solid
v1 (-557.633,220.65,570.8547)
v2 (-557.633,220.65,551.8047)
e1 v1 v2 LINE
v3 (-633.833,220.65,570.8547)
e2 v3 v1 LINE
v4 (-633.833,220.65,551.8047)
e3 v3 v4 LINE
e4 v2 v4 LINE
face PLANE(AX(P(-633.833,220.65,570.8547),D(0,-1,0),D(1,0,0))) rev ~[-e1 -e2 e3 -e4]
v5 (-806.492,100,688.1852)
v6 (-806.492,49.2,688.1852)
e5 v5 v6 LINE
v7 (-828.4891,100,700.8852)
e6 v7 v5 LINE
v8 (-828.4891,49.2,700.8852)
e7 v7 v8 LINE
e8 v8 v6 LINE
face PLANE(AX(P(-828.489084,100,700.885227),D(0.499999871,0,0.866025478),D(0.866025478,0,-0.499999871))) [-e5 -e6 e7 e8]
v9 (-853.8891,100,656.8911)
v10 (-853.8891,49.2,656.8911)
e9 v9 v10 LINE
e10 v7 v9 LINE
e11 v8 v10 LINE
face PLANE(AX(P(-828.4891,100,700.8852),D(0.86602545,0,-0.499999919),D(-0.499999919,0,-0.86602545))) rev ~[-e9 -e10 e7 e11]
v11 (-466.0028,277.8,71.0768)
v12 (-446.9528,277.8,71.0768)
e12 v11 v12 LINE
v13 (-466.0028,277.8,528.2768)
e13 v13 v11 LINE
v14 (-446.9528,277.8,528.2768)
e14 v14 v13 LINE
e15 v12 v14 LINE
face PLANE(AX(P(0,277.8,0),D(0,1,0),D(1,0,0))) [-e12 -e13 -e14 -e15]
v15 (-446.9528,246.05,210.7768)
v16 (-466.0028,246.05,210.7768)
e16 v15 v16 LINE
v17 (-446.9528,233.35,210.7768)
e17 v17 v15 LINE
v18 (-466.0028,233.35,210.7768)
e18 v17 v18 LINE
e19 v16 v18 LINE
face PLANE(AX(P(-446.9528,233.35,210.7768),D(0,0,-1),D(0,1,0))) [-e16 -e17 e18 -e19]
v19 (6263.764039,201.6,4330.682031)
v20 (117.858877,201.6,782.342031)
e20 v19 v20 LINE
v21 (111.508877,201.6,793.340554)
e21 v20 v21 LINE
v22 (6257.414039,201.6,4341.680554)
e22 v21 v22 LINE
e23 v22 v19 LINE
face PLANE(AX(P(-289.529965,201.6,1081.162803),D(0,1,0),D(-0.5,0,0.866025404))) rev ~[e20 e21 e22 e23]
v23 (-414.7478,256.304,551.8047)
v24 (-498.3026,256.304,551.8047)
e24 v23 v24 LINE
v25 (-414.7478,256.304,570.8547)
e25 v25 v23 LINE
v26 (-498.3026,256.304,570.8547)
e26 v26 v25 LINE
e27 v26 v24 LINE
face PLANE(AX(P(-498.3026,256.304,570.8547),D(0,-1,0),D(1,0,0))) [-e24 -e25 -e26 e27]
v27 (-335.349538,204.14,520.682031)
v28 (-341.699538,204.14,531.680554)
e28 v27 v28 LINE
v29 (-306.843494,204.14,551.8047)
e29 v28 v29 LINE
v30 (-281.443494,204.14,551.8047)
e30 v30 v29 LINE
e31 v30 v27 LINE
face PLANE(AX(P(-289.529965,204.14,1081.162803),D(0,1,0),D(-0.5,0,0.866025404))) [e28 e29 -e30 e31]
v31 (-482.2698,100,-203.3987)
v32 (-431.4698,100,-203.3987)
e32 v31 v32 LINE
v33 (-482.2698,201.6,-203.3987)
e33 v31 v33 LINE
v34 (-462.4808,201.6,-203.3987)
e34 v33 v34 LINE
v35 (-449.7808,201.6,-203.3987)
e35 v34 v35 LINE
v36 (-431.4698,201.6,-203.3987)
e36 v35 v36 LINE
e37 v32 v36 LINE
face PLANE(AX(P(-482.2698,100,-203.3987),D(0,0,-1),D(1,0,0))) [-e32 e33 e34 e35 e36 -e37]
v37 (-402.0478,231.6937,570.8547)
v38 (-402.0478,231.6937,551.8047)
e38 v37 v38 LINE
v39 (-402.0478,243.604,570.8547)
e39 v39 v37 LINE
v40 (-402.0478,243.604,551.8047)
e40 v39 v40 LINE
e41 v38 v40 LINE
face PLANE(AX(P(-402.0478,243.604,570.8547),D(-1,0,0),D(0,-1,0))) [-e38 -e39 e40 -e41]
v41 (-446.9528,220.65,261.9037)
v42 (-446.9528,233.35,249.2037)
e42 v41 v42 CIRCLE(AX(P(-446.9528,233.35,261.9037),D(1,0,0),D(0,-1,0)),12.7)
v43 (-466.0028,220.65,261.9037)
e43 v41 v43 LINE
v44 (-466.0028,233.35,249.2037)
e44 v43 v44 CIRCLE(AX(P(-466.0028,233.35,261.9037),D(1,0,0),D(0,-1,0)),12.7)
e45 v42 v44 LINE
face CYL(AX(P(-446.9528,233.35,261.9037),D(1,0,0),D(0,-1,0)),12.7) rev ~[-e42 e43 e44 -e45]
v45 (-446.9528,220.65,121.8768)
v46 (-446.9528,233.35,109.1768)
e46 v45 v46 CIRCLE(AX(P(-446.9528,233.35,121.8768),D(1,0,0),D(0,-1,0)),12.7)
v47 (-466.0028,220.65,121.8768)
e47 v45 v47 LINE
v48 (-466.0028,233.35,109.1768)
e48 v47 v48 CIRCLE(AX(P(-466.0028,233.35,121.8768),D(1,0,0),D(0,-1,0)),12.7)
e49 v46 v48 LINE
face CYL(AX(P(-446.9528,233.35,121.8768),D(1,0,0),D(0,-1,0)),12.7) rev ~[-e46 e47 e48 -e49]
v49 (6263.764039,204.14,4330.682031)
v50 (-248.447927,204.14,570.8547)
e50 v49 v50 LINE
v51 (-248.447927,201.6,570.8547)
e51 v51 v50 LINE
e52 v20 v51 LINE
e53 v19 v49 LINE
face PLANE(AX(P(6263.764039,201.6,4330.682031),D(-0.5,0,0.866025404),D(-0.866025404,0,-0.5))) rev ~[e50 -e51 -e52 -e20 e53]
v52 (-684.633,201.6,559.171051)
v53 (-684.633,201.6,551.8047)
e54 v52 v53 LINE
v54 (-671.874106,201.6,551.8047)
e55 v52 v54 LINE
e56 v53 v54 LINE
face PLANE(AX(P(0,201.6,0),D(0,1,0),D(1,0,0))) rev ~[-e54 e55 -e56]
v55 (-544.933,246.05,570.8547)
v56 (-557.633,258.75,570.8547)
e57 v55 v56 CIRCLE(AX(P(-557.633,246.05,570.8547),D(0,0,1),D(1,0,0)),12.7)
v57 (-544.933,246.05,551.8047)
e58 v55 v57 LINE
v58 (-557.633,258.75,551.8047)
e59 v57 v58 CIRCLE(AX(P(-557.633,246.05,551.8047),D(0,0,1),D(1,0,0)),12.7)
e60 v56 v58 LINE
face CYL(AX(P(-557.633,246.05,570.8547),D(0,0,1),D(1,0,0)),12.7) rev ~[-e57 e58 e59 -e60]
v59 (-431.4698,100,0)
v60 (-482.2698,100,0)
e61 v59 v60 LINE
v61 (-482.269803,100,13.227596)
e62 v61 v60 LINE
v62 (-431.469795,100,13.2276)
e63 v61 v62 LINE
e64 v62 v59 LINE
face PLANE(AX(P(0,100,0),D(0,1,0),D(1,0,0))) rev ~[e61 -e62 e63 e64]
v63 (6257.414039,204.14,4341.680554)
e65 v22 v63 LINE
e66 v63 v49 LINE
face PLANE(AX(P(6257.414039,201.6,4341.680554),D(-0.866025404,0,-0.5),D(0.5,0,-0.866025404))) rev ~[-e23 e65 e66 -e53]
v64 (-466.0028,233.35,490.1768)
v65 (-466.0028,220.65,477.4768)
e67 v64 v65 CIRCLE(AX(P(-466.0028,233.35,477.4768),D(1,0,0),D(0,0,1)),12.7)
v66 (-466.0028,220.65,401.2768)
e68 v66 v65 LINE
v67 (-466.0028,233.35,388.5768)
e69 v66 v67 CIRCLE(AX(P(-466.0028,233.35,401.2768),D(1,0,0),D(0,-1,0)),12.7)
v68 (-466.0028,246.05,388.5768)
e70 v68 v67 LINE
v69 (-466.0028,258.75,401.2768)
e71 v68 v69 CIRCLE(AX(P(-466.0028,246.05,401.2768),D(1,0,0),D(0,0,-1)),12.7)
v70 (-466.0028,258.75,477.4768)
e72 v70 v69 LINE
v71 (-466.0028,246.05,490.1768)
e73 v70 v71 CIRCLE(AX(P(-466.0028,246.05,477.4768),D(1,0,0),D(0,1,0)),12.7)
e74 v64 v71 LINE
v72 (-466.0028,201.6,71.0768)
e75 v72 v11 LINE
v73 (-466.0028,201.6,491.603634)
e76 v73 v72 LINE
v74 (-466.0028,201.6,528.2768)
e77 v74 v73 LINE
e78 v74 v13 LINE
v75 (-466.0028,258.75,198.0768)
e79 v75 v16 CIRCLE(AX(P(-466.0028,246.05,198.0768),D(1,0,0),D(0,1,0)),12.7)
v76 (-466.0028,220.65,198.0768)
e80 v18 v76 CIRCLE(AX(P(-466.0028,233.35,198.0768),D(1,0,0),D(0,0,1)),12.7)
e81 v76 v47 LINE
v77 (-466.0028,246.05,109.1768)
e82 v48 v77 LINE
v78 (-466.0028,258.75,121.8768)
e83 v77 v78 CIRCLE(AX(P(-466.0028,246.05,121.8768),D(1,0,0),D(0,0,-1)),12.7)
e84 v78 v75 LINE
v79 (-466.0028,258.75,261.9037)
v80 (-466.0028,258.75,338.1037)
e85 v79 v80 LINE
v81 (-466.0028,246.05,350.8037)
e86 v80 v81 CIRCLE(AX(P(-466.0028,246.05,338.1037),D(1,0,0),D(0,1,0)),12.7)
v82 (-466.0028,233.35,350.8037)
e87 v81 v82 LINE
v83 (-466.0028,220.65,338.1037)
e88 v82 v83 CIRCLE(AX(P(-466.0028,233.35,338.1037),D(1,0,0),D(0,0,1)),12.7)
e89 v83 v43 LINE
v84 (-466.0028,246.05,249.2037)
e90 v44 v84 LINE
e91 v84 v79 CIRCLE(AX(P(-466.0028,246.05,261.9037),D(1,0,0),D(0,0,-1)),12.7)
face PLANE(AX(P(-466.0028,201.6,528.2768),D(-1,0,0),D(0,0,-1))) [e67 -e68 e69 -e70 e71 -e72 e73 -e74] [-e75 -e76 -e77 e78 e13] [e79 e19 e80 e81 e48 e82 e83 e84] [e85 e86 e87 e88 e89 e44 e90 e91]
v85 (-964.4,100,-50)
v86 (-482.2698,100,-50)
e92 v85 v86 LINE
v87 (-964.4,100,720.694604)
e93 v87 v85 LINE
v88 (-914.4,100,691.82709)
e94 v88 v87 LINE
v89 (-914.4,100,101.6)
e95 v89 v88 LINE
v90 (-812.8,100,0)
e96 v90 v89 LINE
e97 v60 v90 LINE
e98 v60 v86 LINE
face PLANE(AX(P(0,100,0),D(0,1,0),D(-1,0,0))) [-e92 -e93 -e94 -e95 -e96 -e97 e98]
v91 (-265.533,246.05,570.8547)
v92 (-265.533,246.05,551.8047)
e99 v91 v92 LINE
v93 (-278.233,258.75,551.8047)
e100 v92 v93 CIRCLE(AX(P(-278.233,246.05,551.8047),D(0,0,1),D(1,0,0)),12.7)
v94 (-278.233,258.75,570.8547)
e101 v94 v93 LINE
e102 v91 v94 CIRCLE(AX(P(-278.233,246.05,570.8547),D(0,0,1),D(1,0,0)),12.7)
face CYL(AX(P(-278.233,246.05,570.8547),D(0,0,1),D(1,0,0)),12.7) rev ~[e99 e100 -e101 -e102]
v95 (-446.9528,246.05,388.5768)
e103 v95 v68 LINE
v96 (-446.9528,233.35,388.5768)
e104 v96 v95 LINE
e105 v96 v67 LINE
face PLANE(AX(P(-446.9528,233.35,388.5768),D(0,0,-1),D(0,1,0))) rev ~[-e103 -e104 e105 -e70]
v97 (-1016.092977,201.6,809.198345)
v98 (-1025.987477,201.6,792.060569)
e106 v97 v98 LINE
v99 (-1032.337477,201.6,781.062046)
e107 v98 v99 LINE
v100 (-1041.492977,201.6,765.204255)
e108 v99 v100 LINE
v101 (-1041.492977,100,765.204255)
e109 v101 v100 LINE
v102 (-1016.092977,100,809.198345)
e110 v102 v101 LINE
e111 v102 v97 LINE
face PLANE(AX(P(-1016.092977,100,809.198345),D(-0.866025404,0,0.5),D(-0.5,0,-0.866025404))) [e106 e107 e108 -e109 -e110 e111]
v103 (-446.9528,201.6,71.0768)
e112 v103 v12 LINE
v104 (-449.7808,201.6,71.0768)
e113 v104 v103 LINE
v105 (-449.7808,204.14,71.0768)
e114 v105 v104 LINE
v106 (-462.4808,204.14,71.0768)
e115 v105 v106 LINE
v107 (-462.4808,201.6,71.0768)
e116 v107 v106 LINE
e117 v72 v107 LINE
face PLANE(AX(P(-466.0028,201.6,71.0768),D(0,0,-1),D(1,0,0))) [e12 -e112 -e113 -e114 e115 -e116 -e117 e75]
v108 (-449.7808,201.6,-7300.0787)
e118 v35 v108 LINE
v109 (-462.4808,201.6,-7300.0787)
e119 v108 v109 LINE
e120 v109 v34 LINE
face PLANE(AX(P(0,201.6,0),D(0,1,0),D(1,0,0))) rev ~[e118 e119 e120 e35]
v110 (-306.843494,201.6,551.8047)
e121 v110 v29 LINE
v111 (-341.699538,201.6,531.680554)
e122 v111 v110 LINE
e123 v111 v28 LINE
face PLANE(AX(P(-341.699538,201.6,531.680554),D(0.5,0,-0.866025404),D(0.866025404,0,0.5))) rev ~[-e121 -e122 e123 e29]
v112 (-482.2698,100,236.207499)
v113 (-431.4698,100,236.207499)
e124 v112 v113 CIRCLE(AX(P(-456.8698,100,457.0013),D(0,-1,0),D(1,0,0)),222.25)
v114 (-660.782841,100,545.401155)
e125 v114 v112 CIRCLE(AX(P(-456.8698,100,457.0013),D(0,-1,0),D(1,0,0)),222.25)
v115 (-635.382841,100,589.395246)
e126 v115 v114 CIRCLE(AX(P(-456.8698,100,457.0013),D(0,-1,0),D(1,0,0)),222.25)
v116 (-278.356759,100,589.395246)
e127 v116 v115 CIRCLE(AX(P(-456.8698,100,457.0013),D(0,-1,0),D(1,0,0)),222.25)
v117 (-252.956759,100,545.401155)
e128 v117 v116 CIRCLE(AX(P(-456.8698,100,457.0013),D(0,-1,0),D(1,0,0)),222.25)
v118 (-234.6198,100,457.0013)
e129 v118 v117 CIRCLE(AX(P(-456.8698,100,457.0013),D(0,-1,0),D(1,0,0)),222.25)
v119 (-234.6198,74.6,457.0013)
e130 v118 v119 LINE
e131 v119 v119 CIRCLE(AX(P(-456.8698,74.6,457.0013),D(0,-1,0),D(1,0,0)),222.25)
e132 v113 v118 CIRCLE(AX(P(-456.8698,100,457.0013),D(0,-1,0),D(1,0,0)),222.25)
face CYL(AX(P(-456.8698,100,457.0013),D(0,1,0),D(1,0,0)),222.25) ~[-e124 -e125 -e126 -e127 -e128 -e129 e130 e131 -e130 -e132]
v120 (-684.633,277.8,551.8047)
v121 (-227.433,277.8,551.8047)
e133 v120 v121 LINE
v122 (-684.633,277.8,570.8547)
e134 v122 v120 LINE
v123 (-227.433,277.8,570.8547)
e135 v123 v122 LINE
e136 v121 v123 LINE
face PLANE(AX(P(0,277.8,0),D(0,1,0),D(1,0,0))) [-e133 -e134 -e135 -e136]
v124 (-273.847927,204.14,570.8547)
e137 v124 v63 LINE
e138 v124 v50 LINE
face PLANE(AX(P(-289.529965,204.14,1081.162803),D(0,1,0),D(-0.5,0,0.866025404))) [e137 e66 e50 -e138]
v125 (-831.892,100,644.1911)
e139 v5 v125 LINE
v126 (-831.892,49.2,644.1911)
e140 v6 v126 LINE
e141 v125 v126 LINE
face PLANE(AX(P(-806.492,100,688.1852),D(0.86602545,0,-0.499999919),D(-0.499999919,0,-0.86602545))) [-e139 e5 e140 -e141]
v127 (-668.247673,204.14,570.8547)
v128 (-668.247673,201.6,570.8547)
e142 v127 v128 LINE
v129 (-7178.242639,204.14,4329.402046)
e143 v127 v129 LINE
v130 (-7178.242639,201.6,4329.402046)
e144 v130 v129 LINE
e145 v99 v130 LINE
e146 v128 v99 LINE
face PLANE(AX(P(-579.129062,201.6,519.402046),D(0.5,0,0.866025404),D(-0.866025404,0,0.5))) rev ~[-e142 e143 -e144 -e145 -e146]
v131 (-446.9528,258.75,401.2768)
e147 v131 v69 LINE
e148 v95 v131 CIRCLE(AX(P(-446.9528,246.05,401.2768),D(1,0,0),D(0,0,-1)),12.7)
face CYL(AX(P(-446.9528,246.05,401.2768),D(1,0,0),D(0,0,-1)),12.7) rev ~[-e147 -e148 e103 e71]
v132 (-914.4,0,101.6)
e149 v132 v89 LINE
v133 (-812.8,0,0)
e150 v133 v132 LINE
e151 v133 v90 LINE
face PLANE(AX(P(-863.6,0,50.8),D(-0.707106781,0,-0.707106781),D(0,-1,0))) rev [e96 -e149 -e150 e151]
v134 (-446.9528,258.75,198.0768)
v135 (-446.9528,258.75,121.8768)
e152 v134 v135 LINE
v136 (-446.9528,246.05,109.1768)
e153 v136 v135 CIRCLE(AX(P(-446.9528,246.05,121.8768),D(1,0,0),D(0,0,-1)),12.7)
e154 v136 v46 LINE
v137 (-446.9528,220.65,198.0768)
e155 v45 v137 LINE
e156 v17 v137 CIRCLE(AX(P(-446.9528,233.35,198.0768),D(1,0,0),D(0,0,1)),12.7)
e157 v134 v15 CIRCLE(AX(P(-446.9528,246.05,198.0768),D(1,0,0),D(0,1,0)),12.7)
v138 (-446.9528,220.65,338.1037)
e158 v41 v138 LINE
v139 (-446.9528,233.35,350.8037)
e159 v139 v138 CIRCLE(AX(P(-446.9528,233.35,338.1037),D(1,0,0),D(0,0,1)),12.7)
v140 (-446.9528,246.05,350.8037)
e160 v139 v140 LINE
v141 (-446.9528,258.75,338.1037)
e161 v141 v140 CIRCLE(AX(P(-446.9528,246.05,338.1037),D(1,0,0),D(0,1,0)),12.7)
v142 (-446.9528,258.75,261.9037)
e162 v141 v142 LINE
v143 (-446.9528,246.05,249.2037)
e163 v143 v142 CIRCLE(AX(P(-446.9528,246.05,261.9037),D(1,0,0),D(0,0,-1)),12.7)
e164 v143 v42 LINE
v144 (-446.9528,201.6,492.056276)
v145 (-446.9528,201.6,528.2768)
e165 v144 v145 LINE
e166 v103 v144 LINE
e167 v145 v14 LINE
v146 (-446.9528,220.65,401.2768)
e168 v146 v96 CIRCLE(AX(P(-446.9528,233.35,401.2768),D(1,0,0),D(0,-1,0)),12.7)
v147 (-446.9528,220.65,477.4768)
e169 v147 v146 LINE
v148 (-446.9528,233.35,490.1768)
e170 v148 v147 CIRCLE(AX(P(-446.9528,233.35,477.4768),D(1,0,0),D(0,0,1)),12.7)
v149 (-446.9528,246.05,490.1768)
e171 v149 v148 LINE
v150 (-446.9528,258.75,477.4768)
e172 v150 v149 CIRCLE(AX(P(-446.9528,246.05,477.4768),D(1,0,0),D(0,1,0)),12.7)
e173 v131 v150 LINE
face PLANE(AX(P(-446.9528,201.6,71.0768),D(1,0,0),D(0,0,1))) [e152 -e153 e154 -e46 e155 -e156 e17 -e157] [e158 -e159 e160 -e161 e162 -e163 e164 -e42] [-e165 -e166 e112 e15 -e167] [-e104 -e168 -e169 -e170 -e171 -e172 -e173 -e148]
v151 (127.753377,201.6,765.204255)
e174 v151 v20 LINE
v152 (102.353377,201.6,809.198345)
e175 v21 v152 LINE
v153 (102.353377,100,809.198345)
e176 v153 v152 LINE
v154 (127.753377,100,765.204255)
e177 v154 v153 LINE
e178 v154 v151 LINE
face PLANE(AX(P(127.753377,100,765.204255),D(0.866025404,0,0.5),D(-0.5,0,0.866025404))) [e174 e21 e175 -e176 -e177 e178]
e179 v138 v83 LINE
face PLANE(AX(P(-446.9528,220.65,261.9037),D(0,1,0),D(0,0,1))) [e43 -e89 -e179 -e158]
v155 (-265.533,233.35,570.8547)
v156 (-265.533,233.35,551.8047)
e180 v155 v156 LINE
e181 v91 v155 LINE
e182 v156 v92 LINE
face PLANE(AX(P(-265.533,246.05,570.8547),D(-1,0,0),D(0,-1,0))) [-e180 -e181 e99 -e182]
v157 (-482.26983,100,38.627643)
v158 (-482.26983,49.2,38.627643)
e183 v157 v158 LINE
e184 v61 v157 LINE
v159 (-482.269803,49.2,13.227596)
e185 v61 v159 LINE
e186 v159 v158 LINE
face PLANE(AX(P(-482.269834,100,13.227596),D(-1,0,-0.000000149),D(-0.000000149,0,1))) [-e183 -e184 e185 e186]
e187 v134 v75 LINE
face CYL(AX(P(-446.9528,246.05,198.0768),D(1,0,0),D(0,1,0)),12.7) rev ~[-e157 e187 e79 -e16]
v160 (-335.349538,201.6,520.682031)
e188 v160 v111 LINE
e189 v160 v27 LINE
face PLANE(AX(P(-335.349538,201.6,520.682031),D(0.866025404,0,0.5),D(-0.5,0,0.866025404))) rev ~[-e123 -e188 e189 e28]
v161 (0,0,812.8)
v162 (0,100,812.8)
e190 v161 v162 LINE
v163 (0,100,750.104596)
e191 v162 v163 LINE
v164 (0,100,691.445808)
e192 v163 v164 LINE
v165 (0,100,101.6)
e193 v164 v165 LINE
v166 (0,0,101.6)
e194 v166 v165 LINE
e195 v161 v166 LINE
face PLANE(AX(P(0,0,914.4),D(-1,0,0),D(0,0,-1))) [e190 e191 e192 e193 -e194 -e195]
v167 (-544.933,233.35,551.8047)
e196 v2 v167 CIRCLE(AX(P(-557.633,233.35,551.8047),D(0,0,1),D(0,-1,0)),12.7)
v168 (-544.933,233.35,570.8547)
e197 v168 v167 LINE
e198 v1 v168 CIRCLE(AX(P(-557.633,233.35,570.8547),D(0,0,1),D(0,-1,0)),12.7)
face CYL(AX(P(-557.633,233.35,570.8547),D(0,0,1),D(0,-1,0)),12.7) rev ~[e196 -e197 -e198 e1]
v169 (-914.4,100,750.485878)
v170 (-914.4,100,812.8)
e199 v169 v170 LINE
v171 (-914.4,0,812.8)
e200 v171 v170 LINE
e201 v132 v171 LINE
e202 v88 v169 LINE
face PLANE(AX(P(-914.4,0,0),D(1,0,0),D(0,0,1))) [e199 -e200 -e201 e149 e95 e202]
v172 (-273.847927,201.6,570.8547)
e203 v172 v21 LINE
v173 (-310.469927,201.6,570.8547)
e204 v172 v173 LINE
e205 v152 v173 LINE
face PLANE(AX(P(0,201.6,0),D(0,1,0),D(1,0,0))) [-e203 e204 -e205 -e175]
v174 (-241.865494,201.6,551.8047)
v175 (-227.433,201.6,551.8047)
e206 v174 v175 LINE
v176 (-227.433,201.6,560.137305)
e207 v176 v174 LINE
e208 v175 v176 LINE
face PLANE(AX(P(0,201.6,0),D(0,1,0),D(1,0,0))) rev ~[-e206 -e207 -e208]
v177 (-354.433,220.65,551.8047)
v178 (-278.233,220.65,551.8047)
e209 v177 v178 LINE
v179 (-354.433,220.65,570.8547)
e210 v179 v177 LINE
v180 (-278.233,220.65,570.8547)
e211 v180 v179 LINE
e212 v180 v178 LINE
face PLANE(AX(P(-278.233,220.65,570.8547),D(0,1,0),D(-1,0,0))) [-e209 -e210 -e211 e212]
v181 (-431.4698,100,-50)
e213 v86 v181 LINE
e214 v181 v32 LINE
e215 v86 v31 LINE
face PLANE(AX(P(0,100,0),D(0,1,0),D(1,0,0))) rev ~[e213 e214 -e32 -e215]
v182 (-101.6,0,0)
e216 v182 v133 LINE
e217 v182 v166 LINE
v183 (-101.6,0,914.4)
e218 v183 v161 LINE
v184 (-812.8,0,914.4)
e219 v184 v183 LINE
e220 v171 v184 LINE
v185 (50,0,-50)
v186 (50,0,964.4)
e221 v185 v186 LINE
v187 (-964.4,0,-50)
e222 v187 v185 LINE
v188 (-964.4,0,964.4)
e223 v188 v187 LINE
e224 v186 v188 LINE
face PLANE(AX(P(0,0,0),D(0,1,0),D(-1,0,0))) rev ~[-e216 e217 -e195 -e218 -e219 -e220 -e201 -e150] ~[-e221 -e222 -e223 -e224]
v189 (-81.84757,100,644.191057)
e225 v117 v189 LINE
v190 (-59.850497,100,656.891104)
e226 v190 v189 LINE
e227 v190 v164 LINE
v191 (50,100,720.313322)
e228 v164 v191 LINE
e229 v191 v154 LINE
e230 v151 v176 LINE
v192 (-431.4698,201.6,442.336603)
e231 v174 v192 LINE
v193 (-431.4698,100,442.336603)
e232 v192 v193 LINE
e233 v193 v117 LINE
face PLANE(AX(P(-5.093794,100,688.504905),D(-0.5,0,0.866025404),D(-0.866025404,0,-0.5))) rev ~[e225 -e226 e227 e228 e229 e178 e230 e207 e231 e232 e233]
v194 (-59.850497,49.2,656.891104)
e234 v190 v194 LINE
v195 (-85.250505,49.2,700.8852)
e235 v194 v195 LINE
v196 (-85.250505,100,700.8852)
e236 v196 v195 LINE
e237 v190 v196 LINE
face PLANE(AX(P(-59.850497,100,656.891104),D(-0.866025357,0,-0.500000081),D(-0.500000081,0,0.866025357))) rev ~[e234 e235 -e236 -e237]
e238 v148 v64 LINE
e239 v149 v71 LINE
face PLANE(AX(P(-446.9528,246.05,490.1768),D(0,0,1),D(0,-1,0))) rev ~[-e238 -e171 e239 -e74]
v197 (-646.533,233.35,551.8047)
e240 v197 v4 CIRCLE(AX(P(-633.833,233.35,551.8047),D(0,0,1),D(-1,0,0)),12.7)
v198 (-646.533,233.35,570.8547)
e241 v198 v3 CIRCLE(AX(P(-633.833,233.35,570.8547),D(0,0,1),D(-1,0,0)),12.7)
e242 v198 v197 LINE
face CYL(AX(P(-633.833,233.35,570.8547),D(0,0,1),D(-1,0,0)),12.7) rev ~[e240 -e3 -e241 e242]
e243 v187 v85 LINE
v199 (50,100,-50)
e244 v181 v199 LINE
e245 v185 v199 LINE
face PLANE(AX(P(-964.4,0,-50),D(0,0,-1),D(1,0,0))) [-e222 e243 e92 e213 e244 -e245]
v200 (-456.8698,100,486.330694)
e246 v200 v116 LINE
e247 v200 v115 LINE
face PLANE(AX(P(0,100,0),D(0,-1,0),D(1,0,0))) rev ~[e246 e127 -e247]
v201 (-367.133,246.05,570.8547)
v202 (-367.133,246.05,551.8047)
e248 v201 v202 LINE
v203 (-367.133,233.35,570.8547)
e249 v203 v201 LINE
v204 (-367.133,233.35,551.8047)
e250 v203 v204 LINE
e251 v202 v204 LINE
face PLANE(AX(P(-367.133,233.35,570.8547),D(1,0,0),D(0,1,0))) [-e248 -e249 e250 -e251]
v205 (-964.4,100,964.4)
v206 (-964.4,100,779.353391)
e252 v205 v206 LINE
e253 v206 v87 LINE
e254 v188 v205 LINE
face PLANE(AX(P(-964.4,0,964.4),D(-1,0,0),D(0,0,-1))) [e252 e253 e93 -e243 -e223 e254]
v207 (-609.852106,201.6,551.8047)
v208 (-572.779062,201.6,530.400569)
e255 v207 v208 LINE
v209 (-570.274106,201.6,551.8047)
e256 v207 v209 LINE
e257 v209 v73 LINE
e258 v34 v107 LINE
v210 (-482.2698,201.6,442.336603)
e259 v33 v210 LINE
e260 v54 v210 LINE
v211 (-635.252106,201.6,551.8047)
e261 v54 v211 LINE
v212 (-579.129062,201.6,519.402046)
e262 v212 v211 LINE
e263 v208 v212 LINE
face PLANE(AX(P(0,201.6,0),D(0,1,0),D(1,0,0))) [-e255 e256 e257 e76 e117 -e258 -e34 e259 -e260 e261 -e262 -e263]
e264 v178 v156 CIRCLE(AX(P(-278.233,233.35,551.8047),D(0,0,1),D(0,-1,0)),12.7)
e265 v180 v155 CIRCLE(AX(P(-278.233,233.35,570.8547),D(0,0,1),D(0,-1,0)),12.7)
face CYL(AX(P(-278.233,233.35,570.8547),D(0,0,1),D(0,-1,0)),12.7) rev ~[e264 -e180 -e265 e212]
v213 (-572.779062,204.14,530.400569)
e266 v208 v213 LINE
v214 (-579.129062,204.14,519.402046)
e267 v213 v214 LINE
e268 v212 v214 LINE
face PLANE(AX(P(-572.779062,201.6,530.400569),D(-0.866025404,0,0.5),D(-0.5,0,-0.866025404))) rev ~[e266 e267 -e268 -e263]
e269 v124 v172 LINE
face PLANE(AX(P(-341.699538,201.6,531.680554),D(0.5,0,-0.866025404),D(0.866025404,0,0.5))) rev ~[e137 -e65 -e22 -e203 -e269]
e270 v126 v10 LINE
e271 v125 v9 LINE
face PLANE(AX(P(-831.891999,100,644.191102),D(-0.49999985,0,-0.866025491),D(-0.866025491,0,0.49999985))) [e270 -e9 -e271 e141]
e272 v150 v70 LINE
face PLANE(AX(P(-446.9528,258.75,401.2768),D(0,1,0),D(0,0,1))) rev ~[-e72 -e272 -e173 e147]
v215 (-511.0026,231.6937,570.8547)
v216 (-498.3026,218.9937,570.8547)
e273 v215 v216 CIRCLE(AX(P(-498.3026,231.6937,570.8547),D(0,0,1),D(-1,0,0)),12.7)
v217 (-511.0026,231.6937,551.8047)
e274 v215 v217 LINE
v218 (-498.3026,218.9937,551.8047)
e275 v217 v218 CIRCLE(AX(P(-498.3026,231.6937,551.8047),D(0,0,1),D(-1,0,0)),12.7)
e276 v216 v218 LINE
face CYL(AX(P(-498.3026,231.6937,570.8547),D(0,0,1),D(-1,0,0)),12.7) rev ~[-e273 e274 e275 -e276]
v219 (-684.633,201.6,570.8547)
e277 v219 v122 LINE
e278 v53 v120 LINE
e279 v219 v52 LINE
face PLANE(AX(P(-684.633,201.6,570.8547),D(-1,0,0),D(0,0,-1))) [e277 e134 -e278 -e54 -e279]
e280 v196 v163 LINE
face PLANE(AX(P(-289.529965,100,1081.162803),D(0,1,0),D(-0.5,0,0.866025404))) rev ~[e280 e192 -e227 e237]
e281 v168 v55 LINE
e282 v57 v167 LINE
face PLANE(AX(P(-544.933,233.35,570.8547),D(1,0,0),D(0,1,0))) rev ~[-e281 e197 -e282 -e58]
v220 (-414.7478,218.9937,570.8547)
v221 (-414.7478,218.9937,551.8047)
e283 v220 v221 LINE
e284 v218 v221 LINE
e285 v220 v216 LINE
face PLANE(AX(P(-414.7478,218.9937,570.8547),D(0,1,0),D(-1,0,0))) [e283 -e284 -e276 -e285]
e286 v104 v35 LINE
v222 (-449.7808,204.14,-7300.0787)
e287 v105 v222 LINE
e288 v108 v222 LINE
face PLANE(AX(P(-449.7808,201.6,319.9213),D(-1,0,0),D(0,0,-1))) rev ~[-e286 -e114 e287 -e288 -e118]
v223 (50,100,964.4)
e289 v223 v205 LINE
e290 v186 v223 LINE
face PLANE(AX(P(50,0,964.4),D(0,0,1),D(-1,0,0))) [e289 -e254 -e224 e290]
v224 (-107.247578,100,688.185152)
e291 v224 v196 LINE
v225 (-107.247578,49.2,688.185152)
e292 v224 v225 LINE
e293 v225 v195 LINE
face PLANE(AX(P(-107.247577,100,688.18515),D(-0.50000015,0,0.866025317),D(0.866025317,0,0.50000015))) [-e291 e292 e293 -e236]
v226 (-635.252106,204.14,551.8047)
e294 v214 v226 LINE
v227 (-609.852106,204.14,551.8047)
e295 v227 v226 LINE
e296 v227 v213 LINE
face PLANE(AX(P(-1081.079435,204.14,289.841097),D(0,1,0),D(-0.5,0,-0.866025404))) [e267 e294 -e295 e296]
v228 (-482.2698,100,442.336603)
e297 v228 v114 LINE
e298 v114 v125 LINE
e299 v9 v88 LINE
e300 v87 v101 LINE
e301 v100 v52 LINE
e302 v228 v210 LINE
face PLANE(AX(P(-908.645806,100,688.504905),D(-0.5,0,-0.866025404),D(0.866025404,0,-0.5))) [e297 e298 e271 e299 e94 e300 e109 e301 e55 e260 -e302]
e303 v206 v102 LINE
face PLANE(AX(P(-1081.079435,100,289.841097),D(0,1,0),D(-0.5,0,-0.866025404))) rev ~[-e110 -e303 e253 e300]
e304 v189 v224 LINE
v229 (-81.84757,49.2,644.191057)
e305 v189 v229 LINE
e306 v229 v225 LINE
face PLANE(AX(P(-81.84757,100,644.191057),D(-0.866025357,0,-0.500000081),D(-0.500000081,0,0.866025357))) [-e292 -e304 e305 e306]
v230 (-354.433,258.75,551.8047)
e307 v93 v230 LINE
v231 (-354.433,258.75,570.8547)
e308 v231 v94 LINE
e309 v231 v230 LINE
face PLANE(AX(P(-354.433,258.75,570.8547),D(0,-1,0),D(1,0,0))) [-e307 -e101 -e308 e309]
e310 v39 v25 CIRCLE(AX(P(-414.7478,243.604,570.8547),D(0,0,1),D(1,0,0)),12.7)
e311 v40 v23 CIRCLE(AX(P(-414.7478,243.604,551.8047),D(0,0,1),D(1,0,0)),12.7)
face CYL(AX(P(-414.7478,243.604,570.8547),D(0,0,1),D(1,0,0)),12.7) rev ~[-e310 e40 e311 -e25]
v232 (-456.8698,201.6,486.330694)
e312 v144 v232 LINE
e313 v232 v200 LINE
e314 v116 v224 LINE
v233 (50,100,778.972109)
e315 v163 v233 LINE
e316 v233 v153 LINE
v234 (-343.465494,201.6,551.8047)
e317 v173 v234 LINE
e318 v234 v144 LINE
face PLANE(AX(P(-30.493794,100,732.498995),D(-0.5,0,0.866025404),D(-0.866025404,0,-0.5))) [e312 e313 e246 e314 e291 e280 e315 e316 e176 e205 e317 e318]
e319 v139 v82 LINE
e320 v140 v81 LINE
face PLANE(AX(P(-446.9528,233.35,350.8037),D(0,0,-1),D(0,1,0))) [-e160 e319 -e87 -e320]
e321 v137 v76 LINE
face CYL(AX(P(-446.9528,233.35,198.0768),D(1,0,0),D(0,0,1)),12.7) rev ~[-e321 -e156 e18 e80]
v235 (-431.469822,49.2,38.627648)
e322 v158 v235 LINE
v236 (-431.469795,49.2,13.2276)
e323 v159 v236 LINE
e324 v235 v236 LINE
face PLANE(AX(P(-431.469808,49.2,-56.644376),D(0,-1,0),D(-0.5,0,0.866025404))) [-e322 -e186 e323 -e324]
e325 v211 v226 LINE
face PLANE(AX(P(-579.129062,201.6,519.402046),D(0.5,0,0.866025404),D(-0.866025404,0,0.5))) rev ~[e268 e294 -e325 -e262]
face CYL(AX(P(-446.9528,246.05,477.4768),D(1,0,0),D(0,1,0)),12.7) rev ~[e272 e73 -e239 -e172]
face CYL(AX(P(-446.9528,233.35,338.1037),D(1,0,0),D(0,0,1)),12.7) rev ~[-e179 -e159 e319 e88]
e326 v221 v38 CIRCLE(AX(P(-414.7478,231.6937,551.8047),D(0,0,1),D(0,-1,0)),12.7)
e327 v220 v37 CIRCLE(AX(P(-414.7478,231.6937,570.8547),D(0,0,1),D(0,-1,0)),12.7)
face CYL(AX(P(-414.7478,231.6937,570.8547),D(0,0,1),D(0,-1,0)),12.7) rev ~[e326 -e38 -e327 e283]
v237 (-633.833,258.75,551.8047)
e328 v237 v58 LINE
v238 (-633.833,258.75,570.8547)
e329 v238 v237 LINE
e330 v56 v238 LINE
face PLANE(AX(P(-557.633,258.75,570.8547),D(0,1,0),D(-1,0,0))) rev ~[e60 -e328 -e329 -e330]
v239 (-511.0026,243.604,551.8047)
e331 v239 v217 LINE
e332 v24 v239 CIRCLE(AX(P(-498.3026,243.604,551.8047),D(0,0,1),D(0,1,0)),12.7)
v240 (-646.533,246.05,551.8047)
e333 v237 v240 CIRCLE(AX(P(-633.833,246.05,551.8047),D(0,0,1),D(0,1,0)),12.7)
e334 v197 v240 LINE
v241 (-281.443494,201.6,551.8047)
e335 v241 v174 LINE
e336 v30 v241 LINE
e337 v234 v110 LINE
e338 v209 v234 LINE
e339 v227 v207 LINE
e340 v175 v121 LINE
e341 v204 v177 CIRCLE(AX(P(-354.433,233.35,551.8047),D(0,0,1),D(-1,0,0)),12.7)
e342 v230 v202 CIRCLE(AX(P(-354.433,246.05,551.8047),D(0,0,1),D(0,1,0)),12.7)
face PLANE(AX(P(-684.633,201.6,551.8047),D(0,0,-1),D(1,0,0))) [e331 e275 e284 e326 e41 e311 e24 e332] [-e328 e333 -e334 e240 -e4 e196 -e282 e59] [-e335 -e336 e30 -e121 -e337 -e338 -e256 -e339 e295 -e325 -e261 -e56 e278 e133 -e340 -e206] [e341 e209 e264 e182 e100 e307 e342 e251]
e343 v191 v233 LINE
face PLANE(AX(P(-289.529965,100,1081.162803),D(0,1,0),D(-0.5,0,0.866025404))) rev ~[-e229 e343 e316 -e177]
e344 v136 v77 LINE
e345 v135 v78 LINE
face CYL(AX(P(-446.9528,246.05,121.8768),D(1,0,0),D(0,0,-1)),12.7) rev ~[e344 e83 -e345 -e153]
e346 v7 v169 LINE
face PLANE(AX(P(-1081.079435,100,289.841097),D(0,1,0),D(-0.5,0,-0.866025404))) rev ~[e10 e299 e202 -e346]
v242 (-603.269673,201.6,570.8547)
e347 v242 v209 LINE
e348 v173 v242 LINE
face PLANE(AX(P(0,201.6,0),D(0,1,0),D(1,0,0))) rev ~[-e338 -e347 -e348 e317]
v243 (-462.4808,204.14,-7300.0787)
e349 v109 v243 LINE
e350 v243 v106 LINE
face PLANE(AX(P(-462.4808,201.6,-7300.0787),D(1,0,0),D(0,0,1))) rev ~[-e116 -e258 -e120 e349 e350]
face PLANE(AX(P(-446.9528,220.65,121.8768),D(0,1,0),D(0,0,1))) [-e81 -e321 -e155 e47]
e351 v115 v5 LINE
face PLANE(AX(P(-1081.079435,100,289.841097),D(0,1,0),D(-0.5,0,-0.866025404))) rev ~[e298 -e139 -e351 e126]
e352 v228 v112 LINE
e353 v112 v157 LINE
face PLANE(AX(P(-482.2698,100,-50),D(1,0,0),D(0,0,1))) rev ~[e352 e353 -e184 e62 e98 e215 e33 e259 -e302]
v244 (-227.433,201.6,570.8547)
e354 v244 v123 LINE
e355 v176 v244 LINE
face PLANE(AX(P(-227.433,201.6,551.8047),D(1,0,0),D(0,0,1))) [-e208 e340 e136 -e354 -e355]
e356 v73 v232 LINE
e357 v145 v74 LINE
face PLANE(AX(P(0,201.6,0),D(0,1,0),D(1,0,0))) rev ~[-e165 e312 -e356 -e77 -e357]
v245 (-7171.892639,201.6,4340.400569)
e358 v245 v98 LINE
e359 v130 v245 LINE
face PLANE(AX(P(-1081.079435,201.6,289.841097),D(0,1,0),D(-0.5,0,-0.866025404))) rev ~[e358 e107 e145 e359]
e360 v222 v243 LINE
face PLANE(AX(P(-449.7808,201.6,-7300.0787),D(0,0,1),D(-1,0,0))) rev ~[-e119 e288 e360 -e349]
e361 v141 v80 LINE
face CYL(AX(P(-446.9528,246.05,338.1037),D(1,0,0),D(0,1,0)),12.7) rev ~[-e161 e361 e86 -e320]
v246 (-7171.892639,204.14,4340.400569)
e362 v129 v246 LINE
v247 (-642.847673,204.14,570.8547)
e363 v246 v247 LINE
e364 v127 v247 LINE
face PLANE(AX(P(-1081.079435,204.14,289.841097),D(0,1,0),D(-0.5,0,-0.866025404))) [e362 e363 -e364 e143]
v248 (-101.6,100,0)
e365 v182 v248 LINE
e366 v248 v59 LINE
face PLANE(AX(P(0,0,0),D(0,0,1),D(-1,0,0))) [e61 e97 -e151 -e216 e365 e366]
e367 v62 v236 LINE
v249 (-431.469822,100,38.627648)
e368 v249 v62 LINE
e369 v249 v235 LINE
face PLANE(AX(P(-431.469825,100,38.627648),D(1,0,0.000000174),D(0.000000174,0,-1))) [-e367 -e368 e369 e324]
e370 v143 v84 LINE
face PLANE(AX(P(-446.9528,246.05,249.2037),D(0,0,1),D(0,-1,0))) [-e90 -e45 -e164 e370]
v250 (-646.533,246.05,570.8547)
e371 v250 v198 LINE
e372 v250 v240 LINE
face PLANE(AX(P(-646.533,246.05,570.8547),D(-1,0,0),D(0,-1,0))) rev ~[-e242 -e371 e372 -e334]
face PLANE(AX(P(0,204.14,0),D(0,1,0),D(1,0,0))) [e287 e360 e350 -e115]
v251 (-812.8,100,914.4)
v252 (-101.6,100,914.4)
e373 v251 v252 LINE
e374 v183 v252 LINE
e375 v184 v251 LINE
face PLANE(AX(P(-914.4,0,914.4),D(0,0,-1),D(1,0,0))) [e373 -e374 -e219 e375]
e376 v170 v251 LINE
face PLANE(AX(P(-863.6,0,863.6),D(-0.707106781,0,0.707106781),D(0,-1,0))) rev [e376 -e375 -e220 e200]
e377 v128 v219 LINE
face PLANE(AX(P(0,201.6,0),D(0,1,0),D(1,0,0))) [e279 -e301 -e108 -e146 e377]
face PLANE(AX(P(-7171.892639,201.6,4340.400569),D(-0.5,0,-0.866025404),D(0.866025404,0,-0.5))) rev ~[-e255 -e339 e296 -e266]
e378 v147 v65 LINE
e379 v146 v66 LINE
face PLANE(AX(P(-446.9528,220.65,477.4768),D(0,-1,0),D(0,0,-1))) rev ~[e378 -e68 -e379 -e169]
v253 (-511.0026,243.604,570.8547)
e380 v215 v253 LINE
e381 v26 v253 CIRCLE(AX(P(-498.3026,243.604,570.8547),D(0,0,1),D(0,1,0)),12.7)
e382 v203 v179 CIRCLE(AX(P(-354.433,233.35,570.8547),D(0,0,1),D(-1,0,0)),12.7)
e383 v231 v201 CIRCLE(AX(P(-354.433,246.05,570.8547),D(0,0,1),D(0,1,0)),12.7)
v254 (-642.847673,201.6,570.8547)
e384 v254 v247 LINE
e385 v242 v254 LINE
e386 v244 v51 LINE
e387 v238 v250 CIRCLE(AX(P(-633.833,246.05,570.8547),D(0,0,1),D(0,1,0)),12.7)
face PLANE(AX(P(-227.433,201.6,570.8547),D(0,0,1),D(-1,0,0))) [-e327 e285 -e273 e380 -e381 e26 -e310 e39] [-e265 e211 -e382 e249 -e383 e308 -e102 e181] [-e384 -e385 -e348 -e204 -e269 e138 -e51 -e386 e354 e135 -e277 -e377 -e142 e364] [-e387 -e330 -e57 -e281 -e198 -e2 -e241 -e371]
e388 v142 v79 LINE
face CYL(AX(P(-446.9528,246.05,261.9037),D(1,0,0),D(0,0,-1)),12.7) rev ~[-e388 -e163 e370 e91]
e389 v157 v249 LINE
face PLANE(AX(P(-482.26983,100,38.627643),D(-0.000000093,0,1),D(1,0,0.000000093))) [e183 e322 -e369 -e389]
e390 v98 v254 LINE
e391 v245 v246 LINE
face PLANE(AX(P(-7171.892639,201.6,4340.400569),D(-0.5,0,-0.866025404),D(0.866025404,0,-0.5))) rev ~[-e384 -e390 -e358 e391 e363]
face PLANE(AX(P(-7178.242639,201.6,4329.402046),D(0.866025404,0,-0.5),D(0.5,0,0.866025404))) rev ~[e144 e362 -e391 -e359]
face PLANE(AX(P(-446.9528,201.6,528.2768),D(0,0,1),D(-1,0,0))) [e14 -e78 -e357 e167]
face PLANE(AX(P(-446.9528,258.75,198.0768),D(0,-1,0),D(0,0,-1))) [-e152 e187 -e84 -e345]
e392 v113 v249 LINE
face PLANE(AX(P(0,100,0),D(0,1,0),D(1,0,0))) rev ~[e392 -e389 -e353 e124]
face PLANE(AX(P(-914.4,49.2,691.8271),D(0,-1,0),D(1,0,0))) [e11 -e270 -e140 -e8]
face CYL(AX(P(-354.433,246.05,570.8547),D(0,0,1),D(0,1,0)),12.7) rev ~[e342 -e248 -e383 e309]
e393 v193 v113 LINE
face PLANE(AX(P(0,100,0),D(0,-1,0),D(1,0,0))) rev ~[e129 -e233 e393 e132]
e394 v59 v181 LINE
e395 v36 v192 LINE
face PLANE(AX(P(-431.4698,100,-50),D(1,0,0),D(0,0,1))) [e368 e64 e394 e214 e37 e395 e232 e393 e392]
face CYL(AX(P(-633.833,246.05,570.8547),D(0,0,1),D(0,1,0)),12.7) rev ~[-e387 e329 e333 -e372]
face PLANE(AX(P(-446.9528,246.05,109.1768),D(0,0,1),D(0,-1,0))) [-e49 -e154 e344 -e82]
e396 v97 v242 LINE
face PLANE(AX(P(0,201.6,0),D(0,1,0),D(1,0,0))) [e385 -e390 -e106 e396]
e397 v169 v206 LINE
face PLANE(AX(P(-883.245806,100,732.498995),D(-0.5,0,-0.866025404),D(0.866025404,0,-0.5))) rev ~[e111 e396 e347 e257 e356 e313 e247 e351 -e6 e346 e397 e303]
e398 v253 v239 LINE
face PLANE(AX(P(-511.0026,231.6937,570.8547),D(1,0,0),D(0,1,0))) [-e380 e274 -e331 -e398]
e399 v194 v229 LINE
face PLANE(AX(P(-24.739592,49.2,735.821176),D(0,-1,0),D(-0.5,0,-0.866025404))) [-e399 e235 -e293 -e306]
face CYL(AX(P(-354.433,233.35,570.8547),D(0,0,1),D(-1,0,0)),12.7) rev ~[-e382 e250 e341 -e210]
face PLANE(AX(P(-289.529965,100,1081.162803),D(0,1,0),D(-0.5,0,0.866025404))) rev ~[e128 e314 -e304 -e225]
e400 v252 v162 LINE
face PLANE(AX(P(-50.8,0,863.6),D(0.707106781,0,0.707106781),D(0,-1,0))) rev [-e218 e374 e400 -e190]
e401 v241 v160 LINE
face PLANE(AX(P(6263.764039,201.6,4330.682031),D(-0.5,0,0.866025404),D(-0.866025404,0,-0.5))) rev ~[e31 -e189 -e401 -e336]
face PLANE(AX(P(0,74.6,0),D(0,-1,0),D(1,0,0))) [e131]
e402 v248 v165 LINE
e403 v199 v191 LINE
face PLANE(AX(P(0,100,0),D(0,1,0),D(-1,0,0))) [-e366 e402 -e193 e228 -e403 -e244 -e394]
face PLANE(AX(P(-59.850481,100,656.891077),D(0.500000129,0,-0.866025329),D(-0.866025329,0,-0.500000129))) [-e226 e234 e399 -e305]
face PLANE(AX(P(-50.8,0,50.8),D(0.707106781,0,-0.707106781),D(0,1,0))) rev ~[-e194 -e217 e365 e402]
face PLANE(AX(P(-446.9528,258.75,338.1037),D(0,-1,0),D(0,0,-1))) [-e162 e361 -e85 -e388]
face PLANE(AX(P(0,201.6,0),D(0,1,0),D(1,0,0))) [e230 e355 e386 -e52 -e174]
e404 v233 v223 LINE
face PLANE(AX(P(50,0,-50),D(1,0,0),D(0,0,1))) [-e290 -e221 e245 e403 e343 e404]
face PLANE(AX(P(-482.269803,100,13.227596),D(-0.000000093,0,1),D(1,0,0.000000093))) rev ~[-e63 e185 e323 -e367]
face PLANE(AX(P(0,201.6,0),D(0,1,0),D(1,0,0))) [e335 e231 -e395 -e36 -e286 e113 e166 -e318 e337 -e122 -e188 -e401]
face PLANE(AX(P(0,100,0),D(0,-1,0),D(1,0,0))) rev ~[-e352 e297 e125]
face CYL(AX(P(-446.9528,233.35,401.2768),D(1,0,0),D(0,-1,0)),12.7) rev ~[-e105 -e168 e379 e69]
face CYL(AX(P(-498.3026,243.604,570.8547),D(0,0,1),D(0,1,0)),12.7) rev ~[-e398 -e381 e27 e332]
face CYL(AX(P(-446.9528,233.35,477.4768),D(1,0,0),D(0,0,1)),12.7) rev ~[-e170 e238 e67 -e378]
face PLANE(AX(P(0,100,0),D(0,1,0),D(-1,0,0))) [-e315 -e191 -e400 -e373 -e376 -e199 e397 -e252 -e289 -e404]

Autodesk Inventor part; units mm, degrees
ref_plane "YZ Plane" through (0, 0, 0) normal (1, 0, 0) x (0, 1, 0)
ref_plane "XZ Plane" through (0, 0, 0) normal (0, 1, 0) x (-1, 0, 0)
ref_plane "XY Plane" through (0, 0, 0) normal (0, 0, 1) x (1, 0, 0)
sketch "Sketch1" plane through (0, 0, 0) normal (0, 1, 0) x (-1, 0, 0)
  line L0 (0, 0) -> (914.4, 0)
  line L1 (914.4, 0) -> (914.4, 914.4)
  line L2 (914.4, 914.4) -> (0, 914.4)
  line L3 (0, 914.4) -> (0, 0)
  line L4 (-50, 964.4) -> (964.4, 964.4)
  line L5 (964.4, 964.4) -> (964.4, -50)
  line L6 (964.4, -50) -> (-50, -50)
  line L7 (-50, -50) -> (-50, 964.4)
  dimension "d0" = 914.4
  dimension "d1" = 914.4
  dimension "d2" = 50
extrude "Extrusion1" add sketch "Sketch1" along normal blind 100
chamfer "Chamfer1" distance 101.6 angle 45 4 edges at (-914.4, 50, 914.4) (-914.4, 50, 0) (0, 50, 914.4) (0, 50, 0)
sketch "Sketch10" plane through (0, 100, 0) normal (0, 1, 0) x (1, 0, 0)
  line L0 (-964.4, -964.4) -> (50, -964.4) projected
  line L1 (50, -964.4) -> (50, 50) projected
  line L2 (50, 50) -> (-964.4, 50) projected
  line L3 (-457.2, 50) -> (-457.2, -964.4) construction
  line L4 (-457.2, -457.2) -> (50, -750.0321) construction
  line L5 (-457.2, -457.2) -> (128.4641, -457.2) construction
  line L6 (-457.2, -457.2) -> (-964.4, -750.0321) construction
  line L7 (-482.2698, 203.3987) -> (-482.2698, -457.0013)
  line L8 (-431.4698, 203.3987) -> (-431.4698, -457.0013)
  line L9 (-482.2698, 203.3987) -> (-431.4698, 203.3987)
  line L10 (-482.2698, -457.0013) -> (-431.4698, -457.0013)
  point P0 (0, 0)
  dimension "d32" = 30
  dimension "d33" = 25.0698
  dimension "d50" = 660.4
extrude "Extrusion7" add sketch "Sketch10" along normal blind 101.6
sketch "Sketch11" plane through (0, 201.6, 0) normal (0, 1, 0) x (1, 0, 0)
  line L0 (-462.4808, -319.9213) -> (-449.7808, -319.9213)
  line L1 (-449.7808, -319.9213) -> (-449.7808, 7300.0787)
  line L2 (-449.7808, 7300.0787) -> (-462.4808, 7300.0787)
  line L3 (-462.4808, 7300.0787) -> (-462.4808, -319.9213)
  point P0 (0, 0)
  dimension "d37" = 12.7
  dimension "d39" = 7620
extrude "Extrusion8" add sketch "Sketch11" along normal blind 2.54
sketch "Sketch12" plane through (0, 100, 0) normal (0, -1, 0) x (1, 0, 0)
  line L0 (-482.2698, 457.0013) -> (-431.4698, 457.0013) projected
  circle A0 centre (-456.8698, 457.0013) radius 222.25
  point P0 (0, 0)
  dimension "d42" = 444.5
extrude "Extrusion9" add sketch "Sketch12" along normal blind 25.4
pattern_circular "Circular Pattern1" count 3 over 360 about axis through (-456.8698, 100, 457.0013) along (0, -1, 0) of "Extrusion7", "Extrusion8"
sketch "Sketch13" plane through (0, 201.6, 0) normal (0, 1, 0) x (1, 0, 0)
  line L0 (-466.0028, -71.0768) -> (-446.9528, -71.0768)
  line L1 (-446.9528, -71.0768) -> (-446.9528, -528.2768)
  line L2 (-446.9528, -528.2768) -> (-466.0028, -528.2768)
  line L3 (-466.0028, -528.2768) -> (-466.0028, -71.0768)
  line L4 (-684.633, -570.8547) -> (-684.633, -551.8047)
  line L5 (-684.633, -551.8047) -> (-227.433, -551.8047)
  line L6 (-227.433, -551.8047) -> (-227.433, -570.8547)
  line L7 (-227.433, -570.8547) -> (-684.633, -570.8547)
  point P0 (0, 0)
  dimension "d51" = 457.2
  dimension "d53" = 19.05
  dimension "d54" = 457.2
  dimension "d55" = 19.05
extrude "Extrusion10" add sketch "Sketch13" along normal blind 76.2
sketch "Sketch14" plane through (-603.2696, 201.6, 570.8547) normal (0, 0, 1) x (1, 0, 0)
  line L0 (-81.3634, 76.2) -> (375.8366, 76.2) projected
  line L1 (-30.5634, 19.05) -> (45.6366, 19.05)
  line L2 (58.3366, 31.75) -> (58.3366, 44.45)
  line L3 (45.6366, 57.15) -> (-30.5634, 57.15)
  line L4 (-43.2634, 44.45) -> (-43.2634, 31.75)
  line L5 (147.2366, 76.2) -> (147.2366, 39.9206) construction
  arc A0 (-30.5634, 57.15) -> (-43.2634, 44.45) centre (-30.5634, 44.45) ccw
  arc A1 (58.3366, 44.45) -> (45.6366, 57.15) centre (45.6366, 44.45) ccw
  arc A2 (45.6366, 19.05) -> (58.3366, 31.75) centre (45.6366, 31.75) ccw
  arc A3 (-43.2634, 31.75) -> (-30.5634, 19.05) centre (-30.5634, 31.75) ccw
  line L6 (325.0366, 19.05) -> (248.8366, 19.05)
  line L7 (236.1366, 31.75) -> (236.1366, 44.45)
  line L8 (248.8366, 57.15) -> (325.0366, 57.15)
  line L9 (337.7366, 44.45) -> (337.7366, 31.75)
  arc A4 (337.7366, 44.45) -> (325.0366, 57.15) centre (325.0366, 44.45) ccw
  arc A5 (248.8366, 57.15) -> (236.1366, 44.45) centre (248.8366, 44.45) ccw
  arc A6 (236.1366, 31.75) -> (248.8366, 19.05) centre (248.8366, 31.75) ccw
  arc A7 (325.0366, 19.05) -> (337.7366, 31.75) centre (325.0366, 31.75) ccw
  line L10 (92.267, 30.0937) -> (92.267, 42.004)
  arc A8 (92.267, 30.0937) -> (104.967, 17.3937) centre (104.967, 30.0937) ccw
  arc A9 (104.967, 54.704) -> (92.267, 42.004) centre (104.967, 42.004) ccw
  line L11 (188.5218, 17.3937) -> (104.967, 17.3937)
  line L12 (104.967, 54.704) -> (188.5218, 54.704)
  line L13 (201.2218, 42.004) -> (201.2218, 30.0937)
  arc A10 (201.2218, 42.004) -> (188.5218, 54.704) centre (188.5218, 42.004) ccw
  arc A11 (188.5218, 17.3937) -> (201.2218, 30.0937) centre (188.5218, 30.0937) ccw
  line L14 (-81.3634, 0) -> (-81.3634, 76.2) projected
  point P0 (603.2696, -201.6)
  dimension "d58" = 12.7
  dimension "d64" = 76.2
  dimension "d65" = 12.7
  dimension "d66" = 38.1
  dimension "d71" = 19.05
extrude "Extrusion11" cut sketch "Sketch14" against normal blind 25.4
sketch "Sketch15" plane through (-446.9528, 201.6, 528.2768) normal (1, 0, 0) x (0, 0, -1)
  line L0 (0, 76.2) -> (457.2, 76.2) projected
  line L1 (0, 0) -> (0, 76.2) projected
  line L2 (36.2205, 0) -> (0, 0) projected
  line L3 (228.6, 76.2) -> (228.6, 43.3162) construction
  line L4 (50.8, 19.05) -> (127, 19.05)
  line L5 (139.7, 31.75) -> (139.7, 44.45)
  line L6 (127, 57.15) -> (50.8, 57.15)
  line L7 (38.1, 44.45) -> (38.1, 31.75)
  arc A0 (50.8, 57.15) -> (38.1, 44.45) centre (50.8, 44.45) ccw
  arc A1 (139.7, 44.45) -> (127, 57.15) centre (127, 44.45) ccw
  arc A2 (127, 19.05) -> (139.7, 31.75) centre (127, 31.75) ccw
  arc A3 (38.1, 31.75) -> (50.8, 19.05) centre (50.8, 31.75) ccw
  line L8 (406.4, 19.05) -> (330.2, 19.05)
  line L9 (317.5, 31.75) -> (317.5, 44.45)
  line L10 (330.2, 57.15) -> (406.4, 57.15)
  line L11 (419.1, 44.45) -> (419.1, 31.75)
  arc A4 (419.1, 44.45) -> (406.4, 57.15) centre (406.4, 44.45) ccw
  arc A5 (330.2, 57.15) -> (317.5, 44.45) centre (330.2, 44.45) ccw
  arc A6 (317.5, 31.75) -> (330.2, 19.05) centre (330.2, 31.75) ccw
  arc A7 (406.4, 19.05) -> (419.1, 31.75) centre (406.4, 31.75) ccw
  line L12 (177.4731, 31.75) -> (177.4731, 44.45)
  arc A8 (190.1731, 57.15) -> (177.4731, 44.45) centre (190.1731, 44.45) ccw
  line L13 (266.3731, 19.05) -> (190.1731, 19.05)
  line L14 (190.1731, 57.15) -> (266.3731, 57.15)
  line L15 (279.0731, 44.45) -> (279.0731, 31.75)
  arc A9 (279.0731, 44.45) -> (266.3731, 57.15) centre (266.3731, 44.45) ccw
  arc A10 (266.3731, 19.05) -> (279.0731, 31.75) centre (266.3731, 31.75) ccw
  arc A11 (177.4731, 31.75) -> (190.1731, 19.05) centre (190.1731, 31.75) ccw
  point P0 (528.2768, -201.6)
  dimension "d61" = 12.7
  dimension "d62" = 76.2
  dimension "d63" = 12.7
  dimension "d67" = 38.1
  dimension "d68" = 19.05
extrude "Extrusion12" cut sketch "Sketch15" against normal blind 25.4
sketch "Sketch16" plane through (-914.4, 100, 691.8271) normal (0, -1, 0) x (1, 0, 0)
  line L0 (253.6172, -146.4259) -> (0, 0) projected
  arc A0 (279.0172, -102.4318) -> (253.6172, -146.4259) centre (457.5302, -234.8258) ccw projected
  line L1 (0, 58.6588) -> (279.0172, -102.4318) projected
  circle A1 centre (457.5302, -234.8258) radius 444.5 construction
  line L2 (85.9109, 9.0581) -> (60.5109, -34.936)
  line L3 (107.908, -3.6419) -> (82.508, -47.636)
  line L4 (85.9109, 9.0581) -> (107.908, -3.6419)
  line L5 (60.5109, -34.936) -> (82.508, -47.636)
  point P0 (914.4, -691.8271)
  dimension "d72" = 889
  dimension "d73" = 25.4
extrude "Extrusion13" add sketch "Sketch16" along normal blind 50.8 contours L0 L2 L1 L3
pattern_circular "Circular Pattern2" count 3 over 360 about axis through (-456.8698, 100, 457.0013) along (0, -1, 0) of "Extrusion13"
properties part number "hub_jig" material "Wood (Walnut)"
